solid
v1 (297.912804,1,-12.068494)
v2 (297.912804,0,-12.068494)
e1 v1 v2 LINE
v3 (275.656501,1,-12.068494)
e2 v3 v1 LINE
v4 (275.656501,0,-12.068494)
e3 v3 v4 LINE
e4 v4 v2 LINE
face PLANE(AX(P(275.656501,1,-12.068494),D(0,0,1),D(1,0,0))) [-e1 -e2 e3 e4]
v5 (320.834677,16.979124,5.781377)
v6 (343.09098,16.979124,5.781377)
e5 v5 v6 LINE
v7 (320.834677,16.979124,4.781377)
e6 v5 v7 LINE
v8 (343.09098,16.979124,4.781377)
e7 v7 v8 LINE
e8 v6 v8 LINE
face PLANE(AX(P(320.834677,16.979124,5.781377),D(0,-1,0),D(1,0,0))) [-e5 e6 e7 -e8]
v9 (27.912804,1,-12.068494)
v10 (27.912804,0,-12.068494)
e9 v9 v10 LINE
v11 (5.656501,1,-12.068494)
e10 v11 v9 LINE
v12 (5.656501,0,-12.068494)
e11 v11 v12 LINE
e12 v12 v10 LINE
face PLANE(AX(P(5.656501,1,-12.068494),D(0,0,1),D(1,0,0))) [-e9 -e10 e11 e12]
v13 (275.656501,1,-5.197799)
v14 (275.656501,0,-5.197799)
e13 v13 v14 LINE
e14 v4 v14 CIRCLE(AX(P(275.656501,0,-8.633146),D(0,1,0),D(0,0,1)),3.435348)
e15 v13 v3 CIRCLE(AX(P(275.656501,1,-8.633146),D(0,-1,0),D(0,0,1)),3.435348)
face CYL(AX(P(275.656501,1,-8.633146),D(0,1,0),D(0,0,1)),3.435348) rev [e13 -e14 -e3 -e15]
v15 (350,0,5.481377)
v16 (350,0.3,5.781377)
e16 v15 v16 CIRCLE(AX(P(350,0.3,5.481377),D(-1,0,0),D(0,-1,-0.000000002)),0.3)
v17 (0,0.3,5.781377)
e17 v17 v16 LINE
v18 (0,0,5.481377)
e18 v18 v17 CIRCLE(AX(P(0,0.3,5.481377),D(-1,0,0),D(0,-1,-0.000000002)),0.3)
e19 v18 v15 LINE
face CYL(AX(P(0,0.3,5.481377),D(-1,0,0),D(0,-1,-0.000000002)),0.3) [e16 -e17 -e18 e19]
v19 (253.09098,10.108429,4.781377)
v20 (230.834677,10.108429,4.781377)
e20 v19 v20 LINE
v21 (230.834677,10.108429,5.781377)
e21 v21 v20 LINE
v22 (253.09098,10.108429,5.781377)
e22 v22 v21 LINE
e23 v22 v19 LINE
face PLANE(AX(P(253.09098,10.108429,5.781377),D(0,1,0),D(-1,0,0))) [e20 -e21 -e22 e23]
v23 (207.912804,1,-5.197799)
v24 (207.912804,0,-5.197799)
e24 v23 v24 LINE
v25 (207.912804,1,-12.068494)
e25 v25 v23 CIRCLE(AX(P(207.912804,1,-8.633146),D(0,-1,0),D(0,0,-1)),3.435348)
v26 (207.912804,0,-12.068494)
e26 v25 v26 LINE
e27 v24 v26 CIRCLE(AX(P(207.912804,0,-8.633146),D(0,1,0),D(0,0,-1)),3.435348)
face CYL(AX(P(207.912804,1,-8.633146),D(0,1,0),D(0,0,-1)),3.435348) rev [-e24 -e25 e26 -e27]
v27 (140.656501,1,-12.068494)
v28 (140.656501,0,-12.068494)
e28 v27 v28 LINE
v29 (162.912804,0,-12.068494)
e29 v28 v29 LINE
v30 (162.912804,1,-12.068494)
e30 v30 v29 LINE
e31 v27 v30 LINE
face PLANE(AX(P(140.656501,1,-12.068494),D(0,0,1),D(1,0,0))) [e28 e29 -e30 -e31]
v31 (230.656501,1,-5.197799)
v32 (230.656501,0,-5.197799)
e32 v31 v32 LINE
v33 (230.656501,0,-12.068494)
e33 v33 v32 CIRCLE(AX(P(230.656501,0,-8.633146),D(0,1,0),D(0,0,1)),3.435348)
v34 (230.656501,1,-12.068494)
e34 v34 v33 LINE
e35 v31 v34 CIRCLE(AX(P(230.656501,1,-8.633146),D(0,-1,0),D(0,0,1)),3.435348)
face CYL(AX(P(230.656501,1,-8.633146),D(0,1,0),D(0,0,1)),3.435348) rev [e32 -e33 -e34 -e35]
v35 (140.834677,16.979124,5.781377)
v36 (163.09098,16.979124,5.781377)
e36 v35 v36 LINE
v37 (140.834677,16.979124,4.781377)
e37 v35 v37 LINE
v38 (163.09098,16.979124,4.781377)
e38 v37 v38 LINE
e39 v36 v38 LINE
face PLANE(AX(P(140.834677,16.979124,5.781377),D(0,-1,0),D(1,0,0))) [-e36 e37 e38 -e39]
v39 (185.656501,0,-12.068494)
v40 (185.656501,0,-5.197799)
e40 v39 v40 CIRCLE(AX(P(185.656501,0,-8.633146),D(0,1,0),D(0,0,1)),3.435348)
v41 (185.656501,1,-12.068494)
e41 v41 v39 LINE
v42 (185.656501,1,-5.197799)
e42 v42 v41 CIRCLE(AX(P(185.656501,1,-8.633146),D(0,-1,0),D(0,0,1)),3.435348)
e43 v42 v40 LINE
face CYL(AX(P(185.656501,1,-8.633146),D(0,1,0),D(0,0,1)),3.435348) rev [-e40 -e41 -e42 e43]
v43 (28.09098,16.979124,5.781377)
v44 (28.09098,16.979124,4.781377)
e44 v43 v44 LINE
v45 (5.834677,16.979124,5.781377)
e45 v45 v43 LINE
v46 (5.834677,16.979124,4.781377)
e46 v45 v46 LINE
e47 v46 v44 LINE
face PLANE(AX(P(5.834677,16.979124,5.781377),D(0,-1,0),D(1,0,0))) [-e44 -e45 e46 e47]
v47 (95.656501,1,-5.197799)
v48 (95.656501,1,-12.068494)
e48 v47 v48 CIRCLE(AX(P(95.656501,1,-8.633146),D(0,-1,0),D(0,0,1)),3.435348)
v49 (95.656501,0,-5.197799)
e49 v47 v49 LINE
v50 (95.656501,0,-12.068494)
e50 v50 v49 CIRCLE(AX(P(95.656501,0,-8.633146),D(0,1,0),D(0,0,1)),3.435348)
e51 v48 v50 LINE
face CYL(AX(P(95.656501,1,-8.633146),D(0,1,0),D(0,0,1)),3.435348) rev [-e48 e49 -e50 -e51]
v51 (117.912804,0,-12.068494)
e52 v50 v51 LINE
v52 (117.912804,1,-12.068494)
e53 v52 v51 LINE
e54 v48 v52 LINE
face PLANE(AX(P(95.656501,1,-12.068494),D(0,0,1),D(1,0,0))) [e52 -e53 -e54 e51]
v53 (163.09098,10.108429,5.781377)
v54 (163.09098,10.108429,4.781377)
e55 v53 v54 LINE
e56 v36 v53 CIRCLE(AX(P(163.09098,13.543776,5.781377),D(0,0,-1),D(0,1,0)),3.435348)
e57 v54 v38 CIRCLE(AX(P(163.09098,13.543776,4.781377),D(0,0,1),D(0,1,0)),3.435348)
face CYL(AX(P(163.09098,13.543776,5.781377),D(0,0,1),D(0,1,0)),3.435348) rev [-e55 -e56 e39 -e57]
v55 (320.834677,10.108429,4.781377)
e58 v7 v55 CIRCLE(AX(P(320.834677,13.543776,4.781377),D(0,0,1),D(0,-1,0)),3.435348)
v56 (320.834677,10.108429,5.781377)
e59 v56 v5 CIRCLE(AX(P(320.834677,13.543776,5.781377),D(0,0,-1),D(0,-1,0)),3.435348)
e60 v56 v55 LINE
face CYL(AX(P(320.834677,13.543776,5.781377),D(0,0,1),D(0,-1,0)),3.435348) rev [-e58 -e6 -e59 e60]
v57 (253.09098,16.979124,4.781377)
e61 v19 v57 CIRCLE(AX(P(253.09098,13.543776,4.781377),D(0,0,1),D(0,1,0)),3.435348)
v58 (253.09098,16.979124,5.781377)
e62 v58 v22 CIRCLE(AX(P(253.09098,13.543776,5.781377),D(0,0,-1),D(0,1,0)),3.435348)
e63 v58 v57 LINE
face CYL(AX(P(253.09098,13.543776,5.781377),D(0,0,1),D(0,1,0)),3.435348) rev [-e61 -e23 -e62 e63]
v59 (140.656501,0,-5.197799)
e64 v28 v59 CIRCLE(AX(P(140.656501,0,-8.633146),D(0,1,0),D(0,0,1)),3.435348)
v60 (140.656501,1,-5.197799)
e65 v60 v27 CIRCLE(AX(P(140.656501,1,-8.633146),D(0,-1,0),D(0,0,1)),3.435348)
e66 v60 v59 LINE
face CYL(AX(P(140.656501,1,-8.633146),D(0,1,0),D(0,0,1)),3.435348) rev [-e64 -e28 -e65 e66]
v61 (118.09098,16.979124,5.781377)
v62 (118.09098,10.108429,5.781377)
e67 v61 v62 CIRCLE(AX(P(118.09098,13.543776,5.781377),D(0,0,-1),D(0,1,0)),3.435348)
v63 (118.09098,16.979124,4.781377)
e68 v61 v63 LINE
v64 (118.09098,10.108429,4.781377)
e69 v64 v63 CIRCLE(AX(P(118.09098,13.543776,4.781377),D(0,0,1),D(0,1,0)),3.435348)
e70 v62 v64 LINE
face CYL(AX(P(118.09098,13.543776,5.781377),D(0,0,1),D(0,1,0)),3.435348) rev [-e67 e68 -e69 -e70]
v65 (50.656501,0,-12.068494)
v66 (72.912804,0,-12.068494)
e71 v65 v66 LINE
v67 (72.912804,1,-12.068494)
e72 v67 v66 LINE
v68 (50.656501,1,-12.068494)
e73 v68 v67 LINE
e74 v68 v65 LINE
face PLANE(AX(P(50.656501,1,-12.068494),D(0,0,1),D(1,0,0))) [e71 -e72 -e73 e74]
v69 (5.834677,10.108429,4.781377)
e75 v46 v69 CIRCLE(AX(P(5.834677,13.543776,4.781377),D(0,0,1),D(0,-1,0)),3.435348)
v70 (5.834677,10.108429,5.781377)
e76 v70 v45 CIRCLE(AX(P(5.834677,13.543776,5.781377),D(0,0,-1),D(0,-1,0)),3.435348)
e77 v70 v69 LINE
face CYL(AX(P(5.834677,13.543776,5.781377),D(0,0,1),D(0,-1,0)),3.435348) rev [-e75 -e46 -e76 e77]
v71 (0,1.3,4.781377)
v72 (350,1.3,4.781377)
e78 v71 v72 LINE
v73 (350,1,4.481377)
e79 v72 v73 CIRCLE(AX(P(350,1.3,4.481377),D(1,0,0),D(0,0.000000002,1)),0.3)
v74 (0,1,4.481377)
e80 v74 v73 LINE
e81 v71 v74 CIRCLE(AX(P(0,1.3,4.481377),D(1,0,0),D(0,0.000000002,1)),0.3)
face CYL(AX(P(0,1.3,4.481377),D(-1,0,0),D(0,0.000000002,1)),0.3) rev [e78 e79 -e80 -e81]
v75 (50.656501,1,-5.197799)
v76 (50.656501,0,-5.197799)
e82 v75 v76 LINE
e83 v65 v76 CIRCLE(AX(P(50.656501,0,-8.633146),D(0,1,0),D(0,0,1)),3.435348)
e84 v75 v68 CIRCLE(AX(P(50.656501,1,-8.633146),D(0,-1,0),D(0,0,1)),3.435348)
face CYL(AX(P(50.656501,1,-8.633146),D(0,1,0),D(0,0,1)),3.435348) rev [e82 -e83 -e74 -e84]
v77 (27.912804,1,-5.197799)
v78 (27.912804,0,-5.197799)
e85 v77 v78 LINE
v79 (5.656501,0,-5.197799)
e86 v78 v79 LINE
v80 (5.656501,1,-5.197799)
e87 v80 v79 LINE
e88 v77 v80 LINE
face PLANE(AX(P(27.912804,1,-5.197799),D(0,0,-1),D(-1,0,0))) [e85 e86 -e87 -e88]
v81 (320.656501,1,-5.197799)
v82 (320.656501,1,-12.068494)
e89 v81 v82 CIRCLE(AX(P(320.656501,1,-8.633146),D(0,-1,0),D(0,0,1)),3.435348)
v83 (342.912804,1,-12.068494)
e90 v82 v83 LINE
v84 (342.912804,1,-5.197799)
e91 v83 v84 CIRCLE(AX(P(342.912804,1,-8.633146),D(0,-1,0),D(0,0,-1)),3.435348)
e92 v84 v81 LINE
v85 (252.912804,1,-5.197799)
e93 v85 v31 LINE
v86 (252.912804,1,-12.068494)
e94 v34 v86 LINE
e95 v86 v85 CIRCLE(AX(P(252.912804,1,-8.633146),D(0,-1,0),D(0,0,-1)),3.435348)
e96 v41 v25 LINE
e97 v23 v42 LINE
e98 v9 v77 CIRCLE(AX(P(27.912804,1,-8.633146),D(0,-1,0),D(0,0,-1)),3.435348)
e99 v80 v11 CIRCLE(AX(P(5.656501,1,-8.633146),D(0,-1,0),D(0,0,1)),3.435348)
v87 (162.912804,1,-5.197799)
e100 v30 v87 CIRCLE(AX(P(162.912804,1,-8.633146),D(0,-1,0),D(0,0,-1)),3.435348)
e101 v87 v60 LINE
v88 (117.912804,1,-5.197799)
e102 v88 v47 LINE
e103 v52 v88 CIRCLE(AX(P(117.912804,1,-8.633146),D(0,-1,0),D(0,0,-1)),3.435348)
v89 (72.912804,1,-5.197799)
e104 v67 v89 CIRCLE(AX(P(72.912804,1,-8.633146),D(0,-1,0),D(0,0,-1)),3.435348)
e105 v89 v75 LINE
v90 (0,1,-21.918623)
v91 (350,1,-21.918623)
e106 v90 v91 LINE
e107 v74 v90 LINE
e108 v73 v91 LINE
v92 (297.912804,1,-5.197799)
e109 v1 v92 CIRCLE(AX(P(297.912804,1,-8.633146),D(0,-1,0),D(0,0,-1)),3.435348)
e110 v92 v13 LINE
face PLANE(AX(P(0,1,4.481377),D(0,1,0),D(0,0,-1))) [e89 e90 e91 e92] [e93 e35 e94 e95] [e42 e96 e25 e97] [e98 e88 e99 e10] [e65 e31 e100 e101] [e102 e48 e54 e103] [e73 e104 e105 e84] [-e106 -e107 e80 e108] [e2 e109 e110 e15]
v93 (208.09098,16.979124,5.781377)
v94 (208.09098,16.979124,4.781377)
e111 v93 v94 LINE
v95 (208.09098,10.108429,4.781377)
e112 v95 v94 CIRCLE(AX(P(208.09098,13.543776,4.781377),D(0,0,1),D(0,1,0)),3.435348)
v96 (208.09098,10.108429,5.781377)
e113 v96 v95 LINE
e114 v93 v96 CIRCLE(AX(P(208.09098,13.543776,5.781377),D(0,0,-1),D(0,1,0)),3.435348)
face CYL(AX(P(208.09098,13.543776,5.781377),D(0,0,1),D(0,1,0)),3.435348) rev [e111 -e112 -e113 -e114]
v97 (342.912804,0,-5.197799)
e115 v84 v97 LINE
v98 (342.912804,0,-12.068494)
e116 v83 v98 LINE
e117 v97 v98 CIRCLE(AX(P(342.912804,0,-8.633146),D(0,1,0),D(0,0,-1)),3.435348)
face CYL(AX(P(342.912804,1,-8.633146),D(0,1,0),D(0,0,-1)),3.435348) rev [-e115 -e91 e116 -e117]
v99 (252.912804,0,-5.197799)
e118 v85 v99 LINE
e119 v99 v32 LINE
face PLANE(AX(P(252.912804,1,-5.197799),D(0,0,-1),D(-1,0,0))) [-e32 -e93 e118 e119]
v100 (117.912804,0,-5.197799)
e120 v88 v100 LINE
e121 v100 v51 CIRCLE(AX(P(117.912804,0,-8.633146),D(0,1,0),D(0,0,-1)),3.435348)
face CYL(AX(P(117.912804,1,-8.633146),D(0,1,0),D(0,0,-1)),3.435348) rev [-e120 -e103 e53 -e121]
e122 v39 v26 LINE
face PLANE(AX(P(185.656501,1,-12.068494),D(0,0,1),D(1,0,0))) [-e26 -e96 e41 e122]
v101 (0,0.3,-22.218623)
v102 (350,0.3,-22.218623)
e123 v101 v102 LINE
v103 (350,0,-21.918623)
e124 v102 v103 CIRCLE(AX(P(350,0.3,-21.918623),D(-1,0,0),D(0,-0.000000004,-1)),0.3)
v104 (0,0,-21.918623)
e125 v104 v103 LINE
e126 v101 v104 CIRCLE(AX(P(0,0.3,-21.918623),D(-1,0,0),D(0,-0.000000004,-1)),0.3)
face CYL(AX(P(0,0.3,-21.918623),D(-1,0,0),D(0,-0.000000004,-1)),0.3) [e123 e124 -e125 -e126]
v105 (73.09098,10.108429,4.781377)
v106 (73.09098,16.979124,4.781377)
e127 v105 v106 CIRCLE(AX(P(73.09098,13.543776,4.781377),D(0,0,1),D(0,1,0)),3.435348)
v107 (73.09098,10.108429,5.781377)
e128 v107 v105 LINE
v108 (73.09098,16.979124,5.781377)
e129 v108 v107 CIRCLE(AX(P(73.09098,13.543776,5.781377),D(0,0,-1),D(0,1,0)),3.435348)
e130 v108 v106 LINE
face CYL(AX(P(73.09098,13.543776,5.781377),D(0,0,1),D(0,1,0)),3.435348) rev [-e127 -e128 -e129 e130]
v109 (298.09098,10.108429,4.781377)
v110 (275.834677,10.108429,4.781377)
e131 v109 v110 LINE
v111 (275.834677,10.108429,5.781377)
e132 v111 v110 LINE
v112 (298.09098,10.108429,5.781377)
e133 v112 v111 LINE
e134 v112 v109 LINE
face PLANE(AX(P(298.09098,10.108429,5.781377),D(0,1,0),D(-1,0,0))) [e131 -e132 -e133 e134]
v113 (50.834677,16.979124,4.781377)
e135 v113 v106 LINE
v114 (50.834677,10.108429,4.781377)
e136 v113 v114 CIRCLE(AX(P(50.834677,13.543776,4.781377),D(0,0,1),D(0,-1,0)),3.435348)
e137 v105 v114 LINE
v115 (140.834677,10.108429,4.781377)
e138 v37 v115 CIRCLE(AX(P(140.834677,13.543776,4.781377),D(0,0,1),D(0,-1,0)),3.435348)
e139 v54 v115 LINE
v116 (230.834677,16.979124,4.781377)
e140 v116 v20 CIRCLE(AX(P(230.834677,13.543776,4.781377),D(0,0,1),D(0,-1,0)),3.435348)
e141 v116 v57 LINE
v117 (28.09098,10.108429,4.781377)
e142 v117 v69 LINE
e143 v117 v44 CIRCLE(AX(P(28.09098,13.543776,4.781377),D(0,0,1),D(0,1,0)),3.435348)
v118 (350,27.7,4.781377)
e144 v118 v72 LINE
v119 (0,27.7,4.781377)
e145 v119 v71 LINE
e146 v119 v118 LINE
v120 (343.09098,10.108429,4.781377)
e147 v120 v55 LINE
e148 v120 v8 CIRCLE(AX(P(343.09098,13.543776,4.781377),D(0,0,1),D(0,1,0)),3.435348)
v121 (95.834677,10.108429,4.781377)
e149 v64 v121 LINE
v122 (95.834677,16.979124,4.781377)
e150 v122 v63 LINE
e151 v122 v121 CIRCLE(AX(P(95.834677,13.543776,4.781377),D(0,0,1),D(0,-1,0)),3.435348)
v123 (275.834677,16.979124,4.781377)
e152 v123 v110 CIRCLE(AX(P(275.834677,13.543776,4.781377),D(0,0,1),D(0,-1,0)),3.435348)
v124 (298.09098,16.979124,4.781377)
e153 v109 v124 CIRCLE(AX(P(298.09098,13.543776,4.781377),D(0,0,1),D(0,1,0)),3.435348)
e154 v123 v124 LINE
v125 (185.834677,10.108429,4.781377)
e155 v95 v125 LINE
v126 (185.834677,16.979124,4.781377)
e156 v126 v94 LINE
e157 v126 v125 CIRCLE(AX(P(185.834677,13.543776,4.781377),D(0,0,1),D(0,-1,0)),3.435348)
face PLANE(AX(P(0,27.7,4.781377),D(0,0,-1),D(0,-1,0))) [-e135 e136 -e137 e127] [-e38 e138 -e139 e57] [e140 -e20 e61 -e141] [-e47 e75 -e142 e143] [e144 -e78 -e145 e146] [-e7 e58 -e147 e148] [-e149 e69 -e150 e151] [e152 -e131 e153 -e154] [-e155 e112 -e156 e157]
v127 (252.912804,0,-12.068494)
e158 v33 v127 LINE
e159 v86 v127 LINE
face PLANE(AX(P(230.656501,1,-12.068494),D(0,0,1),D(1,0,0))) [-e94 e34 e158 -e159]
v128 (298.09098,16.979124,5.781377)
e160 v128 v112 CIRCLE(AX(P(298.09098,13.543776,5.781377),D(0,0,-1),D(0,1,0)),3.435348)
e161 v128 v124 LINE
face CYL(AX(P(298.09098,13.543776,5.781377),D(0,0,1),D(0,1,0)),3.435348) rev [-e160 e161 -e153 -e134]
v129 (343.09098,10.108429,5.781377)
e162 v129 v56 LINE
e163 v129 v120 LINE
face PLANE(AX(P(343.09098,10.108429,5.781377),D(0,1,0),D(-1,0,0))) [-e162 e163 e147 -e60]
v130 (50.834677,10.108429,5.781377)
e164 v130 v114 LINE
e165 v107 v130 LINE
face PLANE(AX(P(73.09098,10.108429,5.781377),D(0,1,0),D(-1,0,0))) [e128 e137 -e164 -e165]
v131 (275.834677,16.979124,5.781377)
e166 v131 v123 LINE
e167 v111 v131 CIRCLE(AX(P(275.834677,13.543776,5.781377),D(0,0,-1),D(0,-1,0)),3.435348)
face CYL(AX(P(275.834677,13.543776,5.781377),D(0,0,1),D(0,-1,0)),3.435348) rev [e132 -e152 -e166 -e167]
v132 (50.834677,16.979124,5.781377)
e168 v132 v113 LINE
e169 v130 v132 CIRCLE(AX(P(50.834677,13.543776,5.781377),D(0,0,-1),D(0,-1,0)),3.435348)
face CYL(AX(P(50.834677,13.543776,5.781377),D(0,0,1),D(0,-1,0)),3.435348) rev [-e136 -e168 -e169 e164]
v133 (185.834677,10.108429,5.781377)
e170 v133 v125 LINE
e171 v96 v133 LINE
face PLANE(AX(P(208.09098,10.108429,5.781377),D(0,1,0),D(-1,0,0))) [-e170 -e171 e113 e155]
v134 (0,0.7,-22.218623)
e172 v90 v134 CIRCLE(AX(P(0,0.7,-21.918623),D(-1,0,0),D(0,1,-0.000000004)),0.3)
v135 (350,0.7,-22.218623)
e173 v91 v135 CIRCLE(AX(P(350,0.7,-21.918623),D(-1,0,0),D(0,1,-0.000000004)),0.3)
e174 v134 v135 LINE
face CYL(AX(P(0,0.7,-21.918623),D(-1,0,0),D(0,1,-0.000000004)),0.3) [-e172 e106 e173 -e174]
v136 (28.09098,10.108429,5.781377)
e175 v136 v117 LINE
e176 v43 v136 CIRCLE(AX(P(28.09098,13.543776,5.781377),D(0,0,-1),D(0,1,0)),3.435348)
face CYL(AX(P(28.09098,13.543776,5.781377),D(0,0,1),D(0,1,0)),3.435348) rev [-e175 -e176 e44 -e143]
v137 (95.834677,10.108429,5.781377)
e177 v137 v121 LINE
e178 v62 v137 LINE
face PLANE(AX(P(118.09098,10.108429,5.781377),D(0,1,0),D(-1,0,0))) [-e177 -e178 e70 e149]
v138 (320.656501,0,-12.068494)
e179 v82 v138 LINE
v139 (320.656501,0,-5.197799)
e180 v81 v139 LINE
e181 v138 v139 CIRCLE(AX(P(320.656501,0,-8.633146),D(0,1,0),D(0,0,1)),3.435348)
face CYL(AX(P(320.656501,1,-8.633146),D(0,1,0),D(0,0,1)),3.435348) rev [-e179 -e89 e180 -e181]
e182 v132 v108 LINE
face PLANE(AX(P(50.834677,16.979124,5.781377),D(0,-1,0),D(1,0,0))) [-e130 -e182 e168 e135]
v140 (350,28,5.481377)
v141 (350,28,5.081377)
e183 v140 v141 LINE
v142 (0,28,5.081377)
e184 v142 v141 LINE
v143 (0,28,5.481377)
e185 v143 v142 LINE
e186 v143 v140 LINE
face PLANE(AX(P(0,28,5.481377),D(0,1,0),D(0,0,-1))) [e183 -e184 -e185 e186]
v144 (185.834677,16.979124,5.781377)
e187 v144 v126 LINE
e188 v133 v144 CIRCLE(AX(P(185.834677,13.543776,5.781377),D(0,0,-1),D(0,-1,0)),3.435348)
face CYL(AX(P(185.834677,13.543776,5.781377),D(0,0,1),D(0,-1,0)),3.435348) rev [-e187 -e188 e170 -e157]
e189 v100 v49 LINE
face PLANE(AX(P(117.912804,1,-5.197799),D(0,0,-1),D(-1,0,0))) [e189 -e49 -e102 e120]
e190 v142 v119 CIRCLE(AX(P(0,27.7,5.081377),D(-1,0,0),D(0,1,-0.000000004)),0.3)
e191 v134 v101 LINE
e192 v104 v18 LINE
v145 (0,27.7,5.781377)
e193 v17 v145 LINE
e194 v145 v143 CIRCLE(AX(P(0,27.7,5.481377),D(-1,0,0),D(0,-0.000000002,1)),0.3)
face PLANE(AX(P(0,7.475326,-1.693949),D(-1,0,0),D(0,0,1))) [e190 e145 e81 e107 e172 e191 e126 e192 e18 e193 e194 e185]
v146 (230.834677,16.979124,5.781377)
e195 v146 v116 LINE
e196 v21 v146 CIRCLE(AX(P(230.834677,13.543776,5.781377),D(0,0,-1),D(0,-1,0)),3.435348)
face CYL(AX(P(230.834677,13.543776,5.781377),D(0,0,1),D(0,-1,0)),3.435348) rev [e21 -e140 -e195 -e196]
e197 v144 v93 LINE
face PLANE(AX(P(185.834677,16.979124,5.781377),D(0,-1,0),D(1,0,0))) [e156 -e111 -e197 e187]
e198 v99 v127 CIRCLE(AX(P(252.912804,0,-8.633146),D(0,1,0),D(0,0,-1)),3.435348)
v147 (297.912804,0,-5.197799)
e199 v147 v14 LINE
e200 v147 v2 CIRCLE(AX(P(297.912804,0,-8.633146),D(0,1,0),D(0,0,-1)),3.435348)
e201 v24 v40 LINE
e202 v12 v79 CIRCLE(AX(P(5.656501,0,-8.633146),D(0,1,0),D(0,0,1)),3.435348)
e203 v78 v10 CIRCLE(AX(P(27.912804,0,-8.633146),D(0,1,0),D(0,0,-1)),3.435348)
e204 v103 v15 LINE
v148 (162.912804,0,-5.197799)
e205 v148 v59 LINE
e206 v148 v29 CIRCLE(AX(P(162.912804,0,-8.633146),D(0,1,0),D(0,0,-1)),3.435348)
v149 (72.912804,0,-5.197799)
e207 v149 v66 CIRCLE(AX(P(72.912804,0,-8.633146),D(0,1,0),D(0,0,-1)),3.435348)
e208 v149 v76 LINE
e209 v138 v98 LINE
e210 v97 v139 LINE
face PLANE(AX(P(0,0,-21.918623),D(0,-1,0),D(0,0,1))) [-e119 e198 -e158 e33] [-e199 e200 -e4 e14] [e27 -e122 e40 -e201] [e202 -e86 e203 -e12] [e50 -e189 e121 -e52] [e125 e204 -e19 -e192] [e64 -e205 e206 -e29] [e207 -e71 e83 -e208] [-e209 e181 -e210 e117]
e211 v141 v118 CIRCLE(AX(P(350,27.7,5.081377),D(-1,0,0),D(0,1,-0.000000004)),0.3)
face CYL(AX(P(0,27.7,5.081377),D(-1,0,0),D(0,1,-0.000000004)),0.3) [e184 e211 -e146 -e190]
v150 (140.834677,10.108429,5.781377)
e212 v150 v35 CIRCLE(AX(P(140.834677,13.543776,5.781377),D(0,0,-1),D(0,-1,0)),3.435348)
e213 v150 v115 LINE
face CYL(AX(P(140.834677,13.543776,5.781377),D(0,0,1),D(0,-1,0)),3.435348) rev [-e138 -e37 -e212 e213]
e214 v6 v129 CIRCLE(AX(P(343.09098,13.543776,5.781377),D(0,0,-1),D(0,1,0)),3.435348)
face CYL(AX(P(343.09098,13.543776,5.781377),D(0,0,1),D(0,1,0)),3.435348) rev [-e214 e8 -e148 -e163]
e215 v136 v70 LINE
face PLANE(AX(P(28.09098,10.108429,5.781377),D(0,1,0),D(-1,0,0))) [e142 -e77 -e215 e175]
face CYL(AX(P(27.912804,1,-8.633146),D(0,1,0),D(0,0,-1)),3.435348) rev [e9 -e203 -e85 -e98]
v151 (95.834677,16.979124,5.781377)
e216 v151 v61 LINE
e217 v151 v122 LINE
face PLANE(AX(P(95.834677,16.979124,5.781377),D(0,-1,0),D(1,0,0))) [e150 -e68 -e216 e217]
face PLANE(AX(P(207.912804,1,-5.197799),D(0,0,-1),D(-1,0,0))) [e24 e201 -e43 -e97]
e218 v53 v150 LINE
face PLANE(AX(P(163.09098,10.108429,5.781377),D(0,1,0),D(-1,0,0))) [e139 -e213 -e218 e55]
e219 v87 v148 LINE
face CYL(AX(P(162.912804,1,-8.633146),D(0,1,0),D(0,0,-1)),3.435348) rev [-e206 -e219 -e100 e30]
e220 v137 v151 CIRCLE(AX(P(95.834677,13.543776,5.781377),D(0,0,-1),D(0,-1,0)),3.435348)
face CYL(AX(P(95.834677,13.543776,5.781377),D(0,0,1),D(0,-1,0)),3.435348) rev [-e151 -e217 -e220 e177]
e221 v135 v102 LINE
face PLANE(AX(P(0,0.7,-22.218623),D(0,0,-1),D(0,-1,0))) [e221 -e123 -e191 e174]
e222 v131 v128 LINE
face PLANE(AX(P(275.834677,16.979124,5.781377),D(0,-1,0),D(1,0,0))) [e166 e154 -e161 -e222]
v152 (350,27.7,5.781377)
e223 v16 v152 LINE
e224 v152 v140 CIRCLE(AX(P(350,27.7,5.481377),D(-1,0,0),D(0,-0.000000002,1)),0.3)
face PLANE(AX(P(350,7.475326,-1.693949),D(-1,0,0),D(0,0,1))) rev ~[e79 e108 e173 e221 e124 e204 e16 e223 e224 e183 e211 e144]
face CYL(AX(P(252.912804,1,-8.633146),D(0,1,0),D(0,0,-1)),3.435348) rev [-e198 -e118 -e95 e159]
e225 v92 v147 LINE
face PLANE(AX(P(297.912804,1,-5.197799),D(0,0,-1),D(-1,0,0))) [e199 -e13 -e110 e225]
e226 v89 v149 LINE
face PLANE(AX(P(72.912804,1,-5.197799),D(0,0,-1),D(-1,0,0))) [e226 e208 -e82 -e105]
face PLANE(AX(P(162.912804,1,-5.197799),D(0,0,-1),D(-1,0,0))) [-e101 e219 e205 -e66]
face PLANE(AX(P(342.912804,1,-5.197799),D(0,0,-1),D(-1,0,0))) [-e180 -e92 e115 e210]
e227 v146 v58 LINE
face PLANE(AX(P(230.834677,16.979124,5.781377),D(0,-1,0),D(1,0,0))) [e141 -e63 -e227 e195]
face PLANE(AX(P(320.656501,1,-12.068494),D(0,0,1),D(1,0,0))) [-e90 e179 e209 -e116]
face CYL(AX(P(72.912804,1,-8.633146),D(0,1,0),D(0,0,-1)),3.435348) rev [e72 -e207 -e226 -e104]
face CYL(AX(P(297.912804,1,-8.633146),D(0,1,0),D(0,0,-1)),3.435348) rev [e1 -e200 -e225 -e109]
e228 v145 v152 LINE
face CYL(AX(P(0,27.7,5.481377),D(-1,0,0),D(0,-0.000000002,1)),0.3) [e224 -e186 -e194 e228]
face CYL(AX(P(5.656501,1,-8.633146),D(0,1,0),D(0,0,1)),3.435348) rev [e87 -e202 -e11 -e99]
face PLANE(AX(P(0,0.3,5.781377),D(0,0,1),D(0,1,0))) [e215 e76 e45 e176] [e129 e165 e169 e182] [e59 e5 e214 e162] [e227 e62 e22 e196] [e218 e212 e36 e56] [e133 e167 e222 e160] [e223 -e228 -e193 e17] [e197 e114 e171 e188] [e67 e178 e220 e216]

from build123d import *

# Parameters (mm, degrees)
EXTRUDE_1_DEPTH     = 350
CUT_EXTRUDE_1_REACH = 30
CUT_EXTRUDE_2_REACH = 3


with BuildPart() as part:
    # 草图1 → 凸台-拉伸1 (new body)
    with BuildSketch(Plane(origin=(0, 0, 0), x_dir=(0, 0, -1), z_dir=(1, 0, 0))):
        with BuildLine():
            Line((0, 0), (-5.481376518, 0))
            ThreePointArc((-5.481376518, 0), (-5.693508553, 0.087867966), (-5.781376518, 0.3))
            Line((-5.781376518, 0.3), (-5.781376518, 27.7))
            ThreePointArc((-5.781376518, 27.7), (-5.693508553, 27.912132034), (-5.481376518, 28))
            Line((-5.481376518, 28), (-5.081376518, 28))
            ThreePointArc((-5.081376518, 28), (-4.869244484, 27.912132034), (-4.781376518, 27.7))
            Line((-4.781376518, 27.7), (-4.781376518, 1.3))
            ThreePointArc((-4.781376518, 1.3), (-4.693508553, 1.087867966), (-4.481376518, 1))
            Line((-4.481376518, 1), (21.918623482, 1))
            ThreePointArc((21.918623482, 1), (22.130755516, 0.912132034), (22.218623482, 0.7))
            Line((22.218623482, 0.7), (22.218623482, 0.3))
            ThreePointArc((22.218623482, 0.3), (22.130755516, 0.087867966), (21.918623482, 0))
            Line((21.918623482, 0), (0, 0))
        make_face()
    extrude(amount=EXTRUDE_1_DEPTH)

    # 草图2 → 切除-拉伸1 (cut, up to next)
    with BuildSketch(Plane.XY.offset(5.781376518), mode=Mode.PRIVATE) as cut_extrude_1_sk1:
        with BuildLine():
            Line((5.834676913, 16.979123609), (28.090979636, 16.979123609))
            ThreePointArc((28.090979636, 16.979123609), (31.526327183, 13.543776063), (28.090979636, 10.108428517))
            Line((28.090979636, 10.108428517), (5.834676913, 10.108428517))
            ThreePointArc((5.834676913, 10.108428517), (2.399329367, 13.543776063), (5.834676913, 16.979123609))
        make_face()
    cut_extrude_1_tool1 = extrude(cut_extrude_1_sk1.sketch, amount=-CUT_EXTRUDE_1_REACH, mode=Mode.PRIVATE) & part.part
    add(cut_extrude_1_tool1.solids().sort_by_distance((16.962828, 13.543776, 5.781377))[0], mode=Mode.SUBTRACT)
    # 草图2 → 切除-拉伸1 (cut, up to next)
    with BuildSketch(Plane.XY.offset(5.781376518), mode=Mode.PRIVATE) as cut_extrude_1_sk2:
        with BuildLine():
            Line((50.834676913, 16.979123609), (73.090979636, 16.979123609))
            ThreePointArc((73.090979636, 16.979123609), (76.526327183, 13.543776063), (73.090979636, 10.108428517))
            Line((73.090979636, 10.108428517), (50.834676913, 10.108428517))
            ThreePointArc((50.834676913, 10.108428517), (47.399329367, 13.543776063), (50.834676913, 16.979123609))
        make_face()
    cut_extrude_1_tool2 = extrude(cut_extrude_1_sk2.sketch, amount=-CUT_EXTRUDE_1_REACH, mode=Mode.PRIVATE) & part.part
    add(cut_extrude_1_tool2.solids().sort_by_distance((61.962828, 13.543776, 5.781377))[0], mode=Mode.SUBTRACT)
    # 草图2 → 切除-拉伸1 (cut, up to next)
    with BuildSketch(Plane.XY.offset(5.781376518), mode=Mode.PRIVATE) as cut_extrude_1_sk3:
        with BuildLine():
            Line((95.834676913, 16.979123609), (118.090979636, 16.979123609))
            ThreePointArc((118.090979636, 16.979123609), (121.526327183, 13.543776063), (118.090979636, 10.108428517))
            Line((118.090979636, 10.108428517), (95.834676913, 10.108428517))
            ThreePointArc((95.834676913, 10.108428517), (92.399329367, 13.543776063), (95.834676913, 16.979123609))
        make_face()
    cut_extrude_1_tool3 = extrude(cut_extrude_1_sk3.sketch, amount=-CUT_EXTRUDE_1_REACH, mode=Mode.PRIVATE) & part.part
    add(cut_extrude_1_tool3.solids().sort_by_distance((106.962828, 13.543776, 5.781377))[0], mode=Mode.SUBTRACT)
    # 草图2 → 切除-拉伸1 (cut, up to next)
    with BuildSketch(Plane.XY.offset(5.781376518), mode=Mode.PRIVATE) as cut_extrude_1_sk4:
        with BuildLine():
            Line((140.834676913, 16.979123609), (163.090979636, 16.979123609))
            ThreePointArc((163.090979636, 16.979123609), (166.526327183, 13.543776063), (163.090979636, 10.108428517))
            Line((163.090979636, 10.108428517), (140.834676913, 10.108428517))
            ThreePointArc((140.834676913, 10.108428517), (137.399329367, 13.543776063), (140.834676913, 16.979123609))
        make_face()
    cut_extrude_1_tool4 = extrude(cut_extrude_1_sk4.sketch, amount=-CUT_EXTRUDE_1_REACH, mode=Mode.PRIVATE) & part.part
    add(cut_extrude_1_tool4.solids().sort_by_distance((151.962828, 13.543776, 5.781377))[0], mode=Mode.SUBTRACT)
    # 草图2 → 切除-拉伸1 (cut, up to next)
    with BuildSketch(Plane.XY.offset(5.781376518), mode=Mode.PRIVATE) as cut_extrude_1_sk5:
        with BuildLine():
            Line((185.834676913, 16.979123609), (208.090979636, 16.979123609))
            ThreePointArc((208.090979636, 16.979123609), (211.526327183, 13.543776063), (208.090979636, 10.108428517))
            Line((208.090979636, 10.108428517), (185.834676913, 10.108428517))
            ThreePointArc((185.834676913, 10.108428517), (182.399329367, 13.543776063), (185.834676913, 16.979123609))
        make_face()
    cut_extrude_1_tool5 = extrude(cut_extrude_1_sk5.sketch, amount=-CUT_EXTRUDE_1_REACH, mode=Mode.PRIVATE) & part.part
    add(cut_extrude_1_tool5.solids().sort_by_distance((196.962828, 13.543776, 5.781377))[0], mode=Mode.SUBTRACT)
    # 草图2 → 切除-拉伸1 (cut, up to next)
    with BuildSketch(Plane.XY.offset(5.781376518), mode=Mode.PRIVATE) as cut_extrude_1_sk6:
        with BuildLine():
            Line((230.834676913, 16.979123609), (253.090979636, 16.979123609))
            ThreePointArc((253.090979636, 16.979123609), (256.526327183, 13.543776063), (253.090979636, 10.108428517))
            Line((253.090979636, 10.108428517), (230.834676913, 10.108428517))
            ThreePointArc((230.834676913, 10.108428517), (227.399329367, 13.543776063), (230.834676913, 16.979123609))
        make_face()
    cut_extrude_1_tool6 = extrude(cut_extrude_1_sk6.sketch, amount=-CUT_EXTRUDE_1_REACH, mode=Mode.PRIVATE) & part.part
    add(cut_extrude_1_tool6.solids().sort_by_distance((241.962828, 13.543776, 5.781377))[0], mode=Mode.SUBTRACT)
    # 草图2 → 切除-拉伸1 (cut, up to next)
    with BuildSketch(Plane.XY.offset(5.781376518), mode=Mode.PRIVATE) as cut_extrude_1_sk7:
        with BuildLine():
            Line((275.834676913, 16.979123609), (298.090979636, 16.979123609))
            ThreePointArc((298.090979636, 16.979123609), (301.526327183, 13.543776063), (298.090979636, 10.108428517))
            Line((298.090979636, 10.108428517), (275.834676913, 10.108428517))
            ThreePointArc((275.834676913, 10.108428517), (272.399329367, 13.543776063), (275.834676913, 16.979123609))
        make_face()
    cut_extrude_1_tool7 = extrude(cut_extrude_1_sk7.sketch, amount=-CUT_EXTRUDE_1_REACH, mode=Mode.PRIVATE) & part.part
    add(cut_extrude_1_tool7.solids().sort_by_distance((286.962828, 13.543776, 5.781377))[0], mode=Mode.SUBTRACT)
    # 草图2 → 切除-拉伸1 (cut, up to next)
    with BuildSketch(Plane.XY.offset(5.781376518), mode=Mode.PRIVATE) as cut_extrude_1_sk8:
        with BuildLine():
            Line((320.834676913, 16.979123609), (343.090979636, 16.979123609))
            ThreePointArc((343.090979636, 16.979123609), (346.526327183, 13.543776063), (343.090979636, 10.108428517))
            Line((343.090979636, 10.108428517), (320.834676913, 10.108428517))
            ThreePointArc((320.834676913, 10.108428517), (317.399329367, 13.543776063), (320.834676913, 16.979123609))
        make_face()
    cut_extrude_1_tool8 = extrude(cut_extrude_1_sk8.sketch, amount=-CUT_EXTRUDE_1_REACH, mode=Mode.PRIVATE) & part.part
    add(cut_extrude_1_tool8.solids().sort_by_distance((331.962828, 13.543776, 5.781377))[0], mode=Mode.SUBTRACT)

    # 草图3 → 切除-拉伸2 (cut, up to next)
    with BuildSketch(Plane(origin=(0, 1, 0), x_dir=(1, 0, 0), z_dir=(0, 1, 0)), mode=Mode.PRIVATE) as cut_extrude_2_sk1:
        with BuildLine():
            Line((5.656501178, 12.068493885), (27.912803901, 12.068493885))
            ThreePointArc((27.912803901, 12.068493885), (31.348151448, 8.633146338), (27.912803901, 5.197798792))
            Line((27.912803901, 5.197798792), (5.656501178, 5.197798792))
            ThreePointArc((5.656501178, 5.197798792), (2.221153632, 8.633146338), (5.656501178, 12.068493885))
        make_face()
    cut_extrude_2_tool1 = extrude(cut_extrude_2_sk1.sketch, amount=-CUT_EXTRUDE_2_REACH, mode=Mode.PRIVATE) & part.part
    add(cut_extrude_2_tool1.solids().sort_by_distance((16.784653, 1, -8.633146))[0], mode=Mode.SUBTRACT)
    # 草图3 → 切除-拉伸2 (cut, up to next)
    with BuildSketch(Plane(origin=(0, 1, 0), x_dir=(1, 0, 0), z_dir=(0, 1, 0)), mode=Mode.PRIVATE) as cut_extrude_2_sk2:
        with BuildLine():
            Line((50.656501178, 12.068493885), (72.912803901, 12.068493885))
            ThreePointArc((72.912803901, 12.068493885), (76.348151448, 8.633146338), (72.912803901, 5.197798792))
            Line((72.912803901, 5.197798792), (50.656501178, 5.197798792))
            ThreePointArc((50.656501178, 5.197798792), (47.221153632, 8.633146338), (50.656501178, 12.068493885))
        make_face()
    cut_extrude_2_tool2 = extrude(cut_extrude_2_sk2.sketch, amount=-CUT_EXTRUDE_2_REACH, mode=Mode.PRIVATE) & part.part
    add(cut_extrude_2_tool2.solids().sort_by_distance((61.784653, 1, -8.633146))[0], mode=Mode.SUBTRACT)
    # 草图3 → 切除-拉伸2 (cut, up to next)
    with BuildSketch(Plane(origin=(0, 1, 0), x_dir=(1, 0, 0), z_dir=(0, 1, 0)), mode=Mode.PRIVATE) as cut_extrude_2_sk3:
        with BuildLine():
            Line((95.656501178, 12.068493885), (117.912803901, 12.068493885))
            ThreePointArc((117.912803901, 12.068493885), (121.348151448, 8.633146338), (117.912803901, 5.197798792))
            Line((117.912803901, 5.197798792), (95.656501178, 5.197798792))
            ThreePointArc((95.656501178, 5.197798792), (92.221153632, 8.633146338), (95.656501178, 12.068493885))
        make_face()
    cut_extrude_2_tool3 = extrude(cut_extrude_2_sk3.sketch, amount=-CUT_EXTRUDE_2_REACH, mode=Mode.PRIVATE) & part.part
    add(cut_extrude_2_tool3.solids().sort_by_distance((106.784653, 1, -8.633146))[0], mode=Mode.SUBTRACT)
    # 草图3 → 切除-拉伸2 (cut, up to next)
    with BuildSketch(Plane(origin=(0, 1, 0), x_dir=(1, 0, 0), z_dir=(0, 1, 0)), mode=Mode.PRIVATE) as cut_extrude_2_sk4:
        with BuildLine():
            Line((140.656501178, 12.068493885), (162.912803901, 12.068493885))
            ThreePointArc((162.912803901, 12.068493885), (166.348151448, 8.633146338), (162.912803901, 5.197798792))
            Line((162.912803901, 5.197798792), (140.656501178, 5.197798792))
            ThreePointArc((140.656501178, 5.197798792), (137.221153632, 8.633146338), (140.656501178, 12.068493885))
        make_face()
    cut_extrude_2_tool4 = extrude(cut_extrude_2_sk4.sketch, amount=-CUT_EXTRUDE_2_REACH, mode=Mode.PRIVATE) & part.part
    add(cut_extrude_2_tool4.solids().sort_by_distance((151.784653, 1, -8.633146))[0], mode=Mode.SUBTRACT)
    # 草图3 → 切除-拉伸2 (cut, up to next)
    with BuildSketch(Plane(origin=(0, 1, 0), x_dir=(1, 0, 0), z_dir=(0, 1, 0)), mode=Mode.PRIVATE) as cut_extrude_2_sk5:
        with BuildLine():
            Line((185.656501178, 12.068493885), (207.912803901, 12.068493885))
            ThreePointArc((207.912803901, 12.068493885), (211.348151448, 8.633146338), (207.912803901, 5.197798792))
            Line((207.912803901, 5.197798792), (185.656501178, 5.197798792))
            ThreePointArc((185.656501178, 5.197798792), (182.221153632, 8.633146338), (185.656501178, 12.068493885))
        make_face()
    cut_extrude_2_tool5 = extrude(cut_extrude_2_sk5.sketch, amount=-CUT_EXTRUDE_2_REACH, mode=Mode.PRIVATE) & part.part
    add(cut_extrude_2_tool5.solids().sort_by_distance((196.784653, 1, -8.633146))[0], mode=Mode.SUBTRACT)
    # 草图3 → 切除-拉伸2 (cut, up to next)
    with BuildSketch(Plane(origin=(0, 1, 0), x_dir=(1, 0, 0), z_dir=(0, 1, 0)), mode=Mode.PRIVATE) as cut_extrude_2_sk6:
        with BuildLine():
            Line((230.656501178, 12.068493885), (252.912803901, 12.068493885))
            ThreePointArc((252.912803901, 12.068493885), (256.348151448, 8.633146338), (252.912803901, 5.197798792))
            Line((252.912803901, 5.197798792), (230.656501178, 5.197798792))
            ThreePointArc((230.656501178, 5.197798792), (227.221153632, 8.633146338), (230.656501178, 12.068493885))
        make_face()
    cut_extrude_2_tool6 = extrude(cut_extrude_2_sk6.sketch, amount=-CUT_EXTRUDE_2_REACH, mode=Mode.PRIVATE) & part.part
    add(cut_extrude_2_tool6.solids().sort_by_distance((241.784653, 1, -8.633146))[0], mode=Mode.SUBTRACT)
    # 草图3 → 切除-拉伸2 (cut, up to next)
    with BuildSketch(Plane(origin=(0, 1, 0), x_dir=(1, 0, 0), z_dir=(0, 1, 0)), mode=Mode.PRIVATE) as cut_extrude_2_sk7:
        with BuildLine():
            Line((275.656501178, 12.068493885), (297.912803901, 12.068493885))
            ThreePointArc((297.912803901, 12.068493885), (301.348151448, 8.633146338), (297.912803901, 5.197798792))
            Line((297.912803901, 5.197798792), (275.656501178, 5.197798792))
            ThreePointArc((275.656501178, 5.197798792), (272.221153632, 8.633146338), (275.656501178, 12.068493885))
        make_face()
    cut_extrude_2_tool7 = extrude(cut_extrude_2_sk7.sketch, amount=-CUT_EXTRUDE_2_REACH, mode=Mode.PRIVATE) & part.part
    add(cut_extrude_2_tool7.solids().sort_by_distance((286.784653, 1, -8.633146))[0], mode=Mode.SUBTRACT)
    # 草图3 → 切除-拉伸2 (cut, up to next)
    with BuildSketch(Plane(origin=(0, 1, 0), x_dir=(1, 0, 0), z_dir=(0, 1, 0)), mode=Mode.PRIVATE) as cut_extrude_2_sk8:
        with BuildLine():
            Line((320.656501178, 12.068493885), (342.912803901, 12.068493885))
            ThreePointArc((342.912803901, 12.068493885), (346.348151448, 8.633146338), (342.912803901, 5.197798792))
            Line((342.912803901, 5.197798792), (320.656501178, 5.197798792))
            ThreePointArc((320.656501178, 5.197798792), (317.221153632, 8.633146338), (320.656501178, 12.068493885))
        make_face()
    cut_extrude_2_tool8 = extrude(cut_extrude_2_sk8.sketch, amount=-CUT_EXTRUDE_2_REACH, mode=Mode.PRIVATE) & part.part
    add(cut_extrude_2_tool8.solids().sort_by_distance((331.784653, 1, -8.633146))[0], mode=Mode.SUBTRACT)


solid = part.part
